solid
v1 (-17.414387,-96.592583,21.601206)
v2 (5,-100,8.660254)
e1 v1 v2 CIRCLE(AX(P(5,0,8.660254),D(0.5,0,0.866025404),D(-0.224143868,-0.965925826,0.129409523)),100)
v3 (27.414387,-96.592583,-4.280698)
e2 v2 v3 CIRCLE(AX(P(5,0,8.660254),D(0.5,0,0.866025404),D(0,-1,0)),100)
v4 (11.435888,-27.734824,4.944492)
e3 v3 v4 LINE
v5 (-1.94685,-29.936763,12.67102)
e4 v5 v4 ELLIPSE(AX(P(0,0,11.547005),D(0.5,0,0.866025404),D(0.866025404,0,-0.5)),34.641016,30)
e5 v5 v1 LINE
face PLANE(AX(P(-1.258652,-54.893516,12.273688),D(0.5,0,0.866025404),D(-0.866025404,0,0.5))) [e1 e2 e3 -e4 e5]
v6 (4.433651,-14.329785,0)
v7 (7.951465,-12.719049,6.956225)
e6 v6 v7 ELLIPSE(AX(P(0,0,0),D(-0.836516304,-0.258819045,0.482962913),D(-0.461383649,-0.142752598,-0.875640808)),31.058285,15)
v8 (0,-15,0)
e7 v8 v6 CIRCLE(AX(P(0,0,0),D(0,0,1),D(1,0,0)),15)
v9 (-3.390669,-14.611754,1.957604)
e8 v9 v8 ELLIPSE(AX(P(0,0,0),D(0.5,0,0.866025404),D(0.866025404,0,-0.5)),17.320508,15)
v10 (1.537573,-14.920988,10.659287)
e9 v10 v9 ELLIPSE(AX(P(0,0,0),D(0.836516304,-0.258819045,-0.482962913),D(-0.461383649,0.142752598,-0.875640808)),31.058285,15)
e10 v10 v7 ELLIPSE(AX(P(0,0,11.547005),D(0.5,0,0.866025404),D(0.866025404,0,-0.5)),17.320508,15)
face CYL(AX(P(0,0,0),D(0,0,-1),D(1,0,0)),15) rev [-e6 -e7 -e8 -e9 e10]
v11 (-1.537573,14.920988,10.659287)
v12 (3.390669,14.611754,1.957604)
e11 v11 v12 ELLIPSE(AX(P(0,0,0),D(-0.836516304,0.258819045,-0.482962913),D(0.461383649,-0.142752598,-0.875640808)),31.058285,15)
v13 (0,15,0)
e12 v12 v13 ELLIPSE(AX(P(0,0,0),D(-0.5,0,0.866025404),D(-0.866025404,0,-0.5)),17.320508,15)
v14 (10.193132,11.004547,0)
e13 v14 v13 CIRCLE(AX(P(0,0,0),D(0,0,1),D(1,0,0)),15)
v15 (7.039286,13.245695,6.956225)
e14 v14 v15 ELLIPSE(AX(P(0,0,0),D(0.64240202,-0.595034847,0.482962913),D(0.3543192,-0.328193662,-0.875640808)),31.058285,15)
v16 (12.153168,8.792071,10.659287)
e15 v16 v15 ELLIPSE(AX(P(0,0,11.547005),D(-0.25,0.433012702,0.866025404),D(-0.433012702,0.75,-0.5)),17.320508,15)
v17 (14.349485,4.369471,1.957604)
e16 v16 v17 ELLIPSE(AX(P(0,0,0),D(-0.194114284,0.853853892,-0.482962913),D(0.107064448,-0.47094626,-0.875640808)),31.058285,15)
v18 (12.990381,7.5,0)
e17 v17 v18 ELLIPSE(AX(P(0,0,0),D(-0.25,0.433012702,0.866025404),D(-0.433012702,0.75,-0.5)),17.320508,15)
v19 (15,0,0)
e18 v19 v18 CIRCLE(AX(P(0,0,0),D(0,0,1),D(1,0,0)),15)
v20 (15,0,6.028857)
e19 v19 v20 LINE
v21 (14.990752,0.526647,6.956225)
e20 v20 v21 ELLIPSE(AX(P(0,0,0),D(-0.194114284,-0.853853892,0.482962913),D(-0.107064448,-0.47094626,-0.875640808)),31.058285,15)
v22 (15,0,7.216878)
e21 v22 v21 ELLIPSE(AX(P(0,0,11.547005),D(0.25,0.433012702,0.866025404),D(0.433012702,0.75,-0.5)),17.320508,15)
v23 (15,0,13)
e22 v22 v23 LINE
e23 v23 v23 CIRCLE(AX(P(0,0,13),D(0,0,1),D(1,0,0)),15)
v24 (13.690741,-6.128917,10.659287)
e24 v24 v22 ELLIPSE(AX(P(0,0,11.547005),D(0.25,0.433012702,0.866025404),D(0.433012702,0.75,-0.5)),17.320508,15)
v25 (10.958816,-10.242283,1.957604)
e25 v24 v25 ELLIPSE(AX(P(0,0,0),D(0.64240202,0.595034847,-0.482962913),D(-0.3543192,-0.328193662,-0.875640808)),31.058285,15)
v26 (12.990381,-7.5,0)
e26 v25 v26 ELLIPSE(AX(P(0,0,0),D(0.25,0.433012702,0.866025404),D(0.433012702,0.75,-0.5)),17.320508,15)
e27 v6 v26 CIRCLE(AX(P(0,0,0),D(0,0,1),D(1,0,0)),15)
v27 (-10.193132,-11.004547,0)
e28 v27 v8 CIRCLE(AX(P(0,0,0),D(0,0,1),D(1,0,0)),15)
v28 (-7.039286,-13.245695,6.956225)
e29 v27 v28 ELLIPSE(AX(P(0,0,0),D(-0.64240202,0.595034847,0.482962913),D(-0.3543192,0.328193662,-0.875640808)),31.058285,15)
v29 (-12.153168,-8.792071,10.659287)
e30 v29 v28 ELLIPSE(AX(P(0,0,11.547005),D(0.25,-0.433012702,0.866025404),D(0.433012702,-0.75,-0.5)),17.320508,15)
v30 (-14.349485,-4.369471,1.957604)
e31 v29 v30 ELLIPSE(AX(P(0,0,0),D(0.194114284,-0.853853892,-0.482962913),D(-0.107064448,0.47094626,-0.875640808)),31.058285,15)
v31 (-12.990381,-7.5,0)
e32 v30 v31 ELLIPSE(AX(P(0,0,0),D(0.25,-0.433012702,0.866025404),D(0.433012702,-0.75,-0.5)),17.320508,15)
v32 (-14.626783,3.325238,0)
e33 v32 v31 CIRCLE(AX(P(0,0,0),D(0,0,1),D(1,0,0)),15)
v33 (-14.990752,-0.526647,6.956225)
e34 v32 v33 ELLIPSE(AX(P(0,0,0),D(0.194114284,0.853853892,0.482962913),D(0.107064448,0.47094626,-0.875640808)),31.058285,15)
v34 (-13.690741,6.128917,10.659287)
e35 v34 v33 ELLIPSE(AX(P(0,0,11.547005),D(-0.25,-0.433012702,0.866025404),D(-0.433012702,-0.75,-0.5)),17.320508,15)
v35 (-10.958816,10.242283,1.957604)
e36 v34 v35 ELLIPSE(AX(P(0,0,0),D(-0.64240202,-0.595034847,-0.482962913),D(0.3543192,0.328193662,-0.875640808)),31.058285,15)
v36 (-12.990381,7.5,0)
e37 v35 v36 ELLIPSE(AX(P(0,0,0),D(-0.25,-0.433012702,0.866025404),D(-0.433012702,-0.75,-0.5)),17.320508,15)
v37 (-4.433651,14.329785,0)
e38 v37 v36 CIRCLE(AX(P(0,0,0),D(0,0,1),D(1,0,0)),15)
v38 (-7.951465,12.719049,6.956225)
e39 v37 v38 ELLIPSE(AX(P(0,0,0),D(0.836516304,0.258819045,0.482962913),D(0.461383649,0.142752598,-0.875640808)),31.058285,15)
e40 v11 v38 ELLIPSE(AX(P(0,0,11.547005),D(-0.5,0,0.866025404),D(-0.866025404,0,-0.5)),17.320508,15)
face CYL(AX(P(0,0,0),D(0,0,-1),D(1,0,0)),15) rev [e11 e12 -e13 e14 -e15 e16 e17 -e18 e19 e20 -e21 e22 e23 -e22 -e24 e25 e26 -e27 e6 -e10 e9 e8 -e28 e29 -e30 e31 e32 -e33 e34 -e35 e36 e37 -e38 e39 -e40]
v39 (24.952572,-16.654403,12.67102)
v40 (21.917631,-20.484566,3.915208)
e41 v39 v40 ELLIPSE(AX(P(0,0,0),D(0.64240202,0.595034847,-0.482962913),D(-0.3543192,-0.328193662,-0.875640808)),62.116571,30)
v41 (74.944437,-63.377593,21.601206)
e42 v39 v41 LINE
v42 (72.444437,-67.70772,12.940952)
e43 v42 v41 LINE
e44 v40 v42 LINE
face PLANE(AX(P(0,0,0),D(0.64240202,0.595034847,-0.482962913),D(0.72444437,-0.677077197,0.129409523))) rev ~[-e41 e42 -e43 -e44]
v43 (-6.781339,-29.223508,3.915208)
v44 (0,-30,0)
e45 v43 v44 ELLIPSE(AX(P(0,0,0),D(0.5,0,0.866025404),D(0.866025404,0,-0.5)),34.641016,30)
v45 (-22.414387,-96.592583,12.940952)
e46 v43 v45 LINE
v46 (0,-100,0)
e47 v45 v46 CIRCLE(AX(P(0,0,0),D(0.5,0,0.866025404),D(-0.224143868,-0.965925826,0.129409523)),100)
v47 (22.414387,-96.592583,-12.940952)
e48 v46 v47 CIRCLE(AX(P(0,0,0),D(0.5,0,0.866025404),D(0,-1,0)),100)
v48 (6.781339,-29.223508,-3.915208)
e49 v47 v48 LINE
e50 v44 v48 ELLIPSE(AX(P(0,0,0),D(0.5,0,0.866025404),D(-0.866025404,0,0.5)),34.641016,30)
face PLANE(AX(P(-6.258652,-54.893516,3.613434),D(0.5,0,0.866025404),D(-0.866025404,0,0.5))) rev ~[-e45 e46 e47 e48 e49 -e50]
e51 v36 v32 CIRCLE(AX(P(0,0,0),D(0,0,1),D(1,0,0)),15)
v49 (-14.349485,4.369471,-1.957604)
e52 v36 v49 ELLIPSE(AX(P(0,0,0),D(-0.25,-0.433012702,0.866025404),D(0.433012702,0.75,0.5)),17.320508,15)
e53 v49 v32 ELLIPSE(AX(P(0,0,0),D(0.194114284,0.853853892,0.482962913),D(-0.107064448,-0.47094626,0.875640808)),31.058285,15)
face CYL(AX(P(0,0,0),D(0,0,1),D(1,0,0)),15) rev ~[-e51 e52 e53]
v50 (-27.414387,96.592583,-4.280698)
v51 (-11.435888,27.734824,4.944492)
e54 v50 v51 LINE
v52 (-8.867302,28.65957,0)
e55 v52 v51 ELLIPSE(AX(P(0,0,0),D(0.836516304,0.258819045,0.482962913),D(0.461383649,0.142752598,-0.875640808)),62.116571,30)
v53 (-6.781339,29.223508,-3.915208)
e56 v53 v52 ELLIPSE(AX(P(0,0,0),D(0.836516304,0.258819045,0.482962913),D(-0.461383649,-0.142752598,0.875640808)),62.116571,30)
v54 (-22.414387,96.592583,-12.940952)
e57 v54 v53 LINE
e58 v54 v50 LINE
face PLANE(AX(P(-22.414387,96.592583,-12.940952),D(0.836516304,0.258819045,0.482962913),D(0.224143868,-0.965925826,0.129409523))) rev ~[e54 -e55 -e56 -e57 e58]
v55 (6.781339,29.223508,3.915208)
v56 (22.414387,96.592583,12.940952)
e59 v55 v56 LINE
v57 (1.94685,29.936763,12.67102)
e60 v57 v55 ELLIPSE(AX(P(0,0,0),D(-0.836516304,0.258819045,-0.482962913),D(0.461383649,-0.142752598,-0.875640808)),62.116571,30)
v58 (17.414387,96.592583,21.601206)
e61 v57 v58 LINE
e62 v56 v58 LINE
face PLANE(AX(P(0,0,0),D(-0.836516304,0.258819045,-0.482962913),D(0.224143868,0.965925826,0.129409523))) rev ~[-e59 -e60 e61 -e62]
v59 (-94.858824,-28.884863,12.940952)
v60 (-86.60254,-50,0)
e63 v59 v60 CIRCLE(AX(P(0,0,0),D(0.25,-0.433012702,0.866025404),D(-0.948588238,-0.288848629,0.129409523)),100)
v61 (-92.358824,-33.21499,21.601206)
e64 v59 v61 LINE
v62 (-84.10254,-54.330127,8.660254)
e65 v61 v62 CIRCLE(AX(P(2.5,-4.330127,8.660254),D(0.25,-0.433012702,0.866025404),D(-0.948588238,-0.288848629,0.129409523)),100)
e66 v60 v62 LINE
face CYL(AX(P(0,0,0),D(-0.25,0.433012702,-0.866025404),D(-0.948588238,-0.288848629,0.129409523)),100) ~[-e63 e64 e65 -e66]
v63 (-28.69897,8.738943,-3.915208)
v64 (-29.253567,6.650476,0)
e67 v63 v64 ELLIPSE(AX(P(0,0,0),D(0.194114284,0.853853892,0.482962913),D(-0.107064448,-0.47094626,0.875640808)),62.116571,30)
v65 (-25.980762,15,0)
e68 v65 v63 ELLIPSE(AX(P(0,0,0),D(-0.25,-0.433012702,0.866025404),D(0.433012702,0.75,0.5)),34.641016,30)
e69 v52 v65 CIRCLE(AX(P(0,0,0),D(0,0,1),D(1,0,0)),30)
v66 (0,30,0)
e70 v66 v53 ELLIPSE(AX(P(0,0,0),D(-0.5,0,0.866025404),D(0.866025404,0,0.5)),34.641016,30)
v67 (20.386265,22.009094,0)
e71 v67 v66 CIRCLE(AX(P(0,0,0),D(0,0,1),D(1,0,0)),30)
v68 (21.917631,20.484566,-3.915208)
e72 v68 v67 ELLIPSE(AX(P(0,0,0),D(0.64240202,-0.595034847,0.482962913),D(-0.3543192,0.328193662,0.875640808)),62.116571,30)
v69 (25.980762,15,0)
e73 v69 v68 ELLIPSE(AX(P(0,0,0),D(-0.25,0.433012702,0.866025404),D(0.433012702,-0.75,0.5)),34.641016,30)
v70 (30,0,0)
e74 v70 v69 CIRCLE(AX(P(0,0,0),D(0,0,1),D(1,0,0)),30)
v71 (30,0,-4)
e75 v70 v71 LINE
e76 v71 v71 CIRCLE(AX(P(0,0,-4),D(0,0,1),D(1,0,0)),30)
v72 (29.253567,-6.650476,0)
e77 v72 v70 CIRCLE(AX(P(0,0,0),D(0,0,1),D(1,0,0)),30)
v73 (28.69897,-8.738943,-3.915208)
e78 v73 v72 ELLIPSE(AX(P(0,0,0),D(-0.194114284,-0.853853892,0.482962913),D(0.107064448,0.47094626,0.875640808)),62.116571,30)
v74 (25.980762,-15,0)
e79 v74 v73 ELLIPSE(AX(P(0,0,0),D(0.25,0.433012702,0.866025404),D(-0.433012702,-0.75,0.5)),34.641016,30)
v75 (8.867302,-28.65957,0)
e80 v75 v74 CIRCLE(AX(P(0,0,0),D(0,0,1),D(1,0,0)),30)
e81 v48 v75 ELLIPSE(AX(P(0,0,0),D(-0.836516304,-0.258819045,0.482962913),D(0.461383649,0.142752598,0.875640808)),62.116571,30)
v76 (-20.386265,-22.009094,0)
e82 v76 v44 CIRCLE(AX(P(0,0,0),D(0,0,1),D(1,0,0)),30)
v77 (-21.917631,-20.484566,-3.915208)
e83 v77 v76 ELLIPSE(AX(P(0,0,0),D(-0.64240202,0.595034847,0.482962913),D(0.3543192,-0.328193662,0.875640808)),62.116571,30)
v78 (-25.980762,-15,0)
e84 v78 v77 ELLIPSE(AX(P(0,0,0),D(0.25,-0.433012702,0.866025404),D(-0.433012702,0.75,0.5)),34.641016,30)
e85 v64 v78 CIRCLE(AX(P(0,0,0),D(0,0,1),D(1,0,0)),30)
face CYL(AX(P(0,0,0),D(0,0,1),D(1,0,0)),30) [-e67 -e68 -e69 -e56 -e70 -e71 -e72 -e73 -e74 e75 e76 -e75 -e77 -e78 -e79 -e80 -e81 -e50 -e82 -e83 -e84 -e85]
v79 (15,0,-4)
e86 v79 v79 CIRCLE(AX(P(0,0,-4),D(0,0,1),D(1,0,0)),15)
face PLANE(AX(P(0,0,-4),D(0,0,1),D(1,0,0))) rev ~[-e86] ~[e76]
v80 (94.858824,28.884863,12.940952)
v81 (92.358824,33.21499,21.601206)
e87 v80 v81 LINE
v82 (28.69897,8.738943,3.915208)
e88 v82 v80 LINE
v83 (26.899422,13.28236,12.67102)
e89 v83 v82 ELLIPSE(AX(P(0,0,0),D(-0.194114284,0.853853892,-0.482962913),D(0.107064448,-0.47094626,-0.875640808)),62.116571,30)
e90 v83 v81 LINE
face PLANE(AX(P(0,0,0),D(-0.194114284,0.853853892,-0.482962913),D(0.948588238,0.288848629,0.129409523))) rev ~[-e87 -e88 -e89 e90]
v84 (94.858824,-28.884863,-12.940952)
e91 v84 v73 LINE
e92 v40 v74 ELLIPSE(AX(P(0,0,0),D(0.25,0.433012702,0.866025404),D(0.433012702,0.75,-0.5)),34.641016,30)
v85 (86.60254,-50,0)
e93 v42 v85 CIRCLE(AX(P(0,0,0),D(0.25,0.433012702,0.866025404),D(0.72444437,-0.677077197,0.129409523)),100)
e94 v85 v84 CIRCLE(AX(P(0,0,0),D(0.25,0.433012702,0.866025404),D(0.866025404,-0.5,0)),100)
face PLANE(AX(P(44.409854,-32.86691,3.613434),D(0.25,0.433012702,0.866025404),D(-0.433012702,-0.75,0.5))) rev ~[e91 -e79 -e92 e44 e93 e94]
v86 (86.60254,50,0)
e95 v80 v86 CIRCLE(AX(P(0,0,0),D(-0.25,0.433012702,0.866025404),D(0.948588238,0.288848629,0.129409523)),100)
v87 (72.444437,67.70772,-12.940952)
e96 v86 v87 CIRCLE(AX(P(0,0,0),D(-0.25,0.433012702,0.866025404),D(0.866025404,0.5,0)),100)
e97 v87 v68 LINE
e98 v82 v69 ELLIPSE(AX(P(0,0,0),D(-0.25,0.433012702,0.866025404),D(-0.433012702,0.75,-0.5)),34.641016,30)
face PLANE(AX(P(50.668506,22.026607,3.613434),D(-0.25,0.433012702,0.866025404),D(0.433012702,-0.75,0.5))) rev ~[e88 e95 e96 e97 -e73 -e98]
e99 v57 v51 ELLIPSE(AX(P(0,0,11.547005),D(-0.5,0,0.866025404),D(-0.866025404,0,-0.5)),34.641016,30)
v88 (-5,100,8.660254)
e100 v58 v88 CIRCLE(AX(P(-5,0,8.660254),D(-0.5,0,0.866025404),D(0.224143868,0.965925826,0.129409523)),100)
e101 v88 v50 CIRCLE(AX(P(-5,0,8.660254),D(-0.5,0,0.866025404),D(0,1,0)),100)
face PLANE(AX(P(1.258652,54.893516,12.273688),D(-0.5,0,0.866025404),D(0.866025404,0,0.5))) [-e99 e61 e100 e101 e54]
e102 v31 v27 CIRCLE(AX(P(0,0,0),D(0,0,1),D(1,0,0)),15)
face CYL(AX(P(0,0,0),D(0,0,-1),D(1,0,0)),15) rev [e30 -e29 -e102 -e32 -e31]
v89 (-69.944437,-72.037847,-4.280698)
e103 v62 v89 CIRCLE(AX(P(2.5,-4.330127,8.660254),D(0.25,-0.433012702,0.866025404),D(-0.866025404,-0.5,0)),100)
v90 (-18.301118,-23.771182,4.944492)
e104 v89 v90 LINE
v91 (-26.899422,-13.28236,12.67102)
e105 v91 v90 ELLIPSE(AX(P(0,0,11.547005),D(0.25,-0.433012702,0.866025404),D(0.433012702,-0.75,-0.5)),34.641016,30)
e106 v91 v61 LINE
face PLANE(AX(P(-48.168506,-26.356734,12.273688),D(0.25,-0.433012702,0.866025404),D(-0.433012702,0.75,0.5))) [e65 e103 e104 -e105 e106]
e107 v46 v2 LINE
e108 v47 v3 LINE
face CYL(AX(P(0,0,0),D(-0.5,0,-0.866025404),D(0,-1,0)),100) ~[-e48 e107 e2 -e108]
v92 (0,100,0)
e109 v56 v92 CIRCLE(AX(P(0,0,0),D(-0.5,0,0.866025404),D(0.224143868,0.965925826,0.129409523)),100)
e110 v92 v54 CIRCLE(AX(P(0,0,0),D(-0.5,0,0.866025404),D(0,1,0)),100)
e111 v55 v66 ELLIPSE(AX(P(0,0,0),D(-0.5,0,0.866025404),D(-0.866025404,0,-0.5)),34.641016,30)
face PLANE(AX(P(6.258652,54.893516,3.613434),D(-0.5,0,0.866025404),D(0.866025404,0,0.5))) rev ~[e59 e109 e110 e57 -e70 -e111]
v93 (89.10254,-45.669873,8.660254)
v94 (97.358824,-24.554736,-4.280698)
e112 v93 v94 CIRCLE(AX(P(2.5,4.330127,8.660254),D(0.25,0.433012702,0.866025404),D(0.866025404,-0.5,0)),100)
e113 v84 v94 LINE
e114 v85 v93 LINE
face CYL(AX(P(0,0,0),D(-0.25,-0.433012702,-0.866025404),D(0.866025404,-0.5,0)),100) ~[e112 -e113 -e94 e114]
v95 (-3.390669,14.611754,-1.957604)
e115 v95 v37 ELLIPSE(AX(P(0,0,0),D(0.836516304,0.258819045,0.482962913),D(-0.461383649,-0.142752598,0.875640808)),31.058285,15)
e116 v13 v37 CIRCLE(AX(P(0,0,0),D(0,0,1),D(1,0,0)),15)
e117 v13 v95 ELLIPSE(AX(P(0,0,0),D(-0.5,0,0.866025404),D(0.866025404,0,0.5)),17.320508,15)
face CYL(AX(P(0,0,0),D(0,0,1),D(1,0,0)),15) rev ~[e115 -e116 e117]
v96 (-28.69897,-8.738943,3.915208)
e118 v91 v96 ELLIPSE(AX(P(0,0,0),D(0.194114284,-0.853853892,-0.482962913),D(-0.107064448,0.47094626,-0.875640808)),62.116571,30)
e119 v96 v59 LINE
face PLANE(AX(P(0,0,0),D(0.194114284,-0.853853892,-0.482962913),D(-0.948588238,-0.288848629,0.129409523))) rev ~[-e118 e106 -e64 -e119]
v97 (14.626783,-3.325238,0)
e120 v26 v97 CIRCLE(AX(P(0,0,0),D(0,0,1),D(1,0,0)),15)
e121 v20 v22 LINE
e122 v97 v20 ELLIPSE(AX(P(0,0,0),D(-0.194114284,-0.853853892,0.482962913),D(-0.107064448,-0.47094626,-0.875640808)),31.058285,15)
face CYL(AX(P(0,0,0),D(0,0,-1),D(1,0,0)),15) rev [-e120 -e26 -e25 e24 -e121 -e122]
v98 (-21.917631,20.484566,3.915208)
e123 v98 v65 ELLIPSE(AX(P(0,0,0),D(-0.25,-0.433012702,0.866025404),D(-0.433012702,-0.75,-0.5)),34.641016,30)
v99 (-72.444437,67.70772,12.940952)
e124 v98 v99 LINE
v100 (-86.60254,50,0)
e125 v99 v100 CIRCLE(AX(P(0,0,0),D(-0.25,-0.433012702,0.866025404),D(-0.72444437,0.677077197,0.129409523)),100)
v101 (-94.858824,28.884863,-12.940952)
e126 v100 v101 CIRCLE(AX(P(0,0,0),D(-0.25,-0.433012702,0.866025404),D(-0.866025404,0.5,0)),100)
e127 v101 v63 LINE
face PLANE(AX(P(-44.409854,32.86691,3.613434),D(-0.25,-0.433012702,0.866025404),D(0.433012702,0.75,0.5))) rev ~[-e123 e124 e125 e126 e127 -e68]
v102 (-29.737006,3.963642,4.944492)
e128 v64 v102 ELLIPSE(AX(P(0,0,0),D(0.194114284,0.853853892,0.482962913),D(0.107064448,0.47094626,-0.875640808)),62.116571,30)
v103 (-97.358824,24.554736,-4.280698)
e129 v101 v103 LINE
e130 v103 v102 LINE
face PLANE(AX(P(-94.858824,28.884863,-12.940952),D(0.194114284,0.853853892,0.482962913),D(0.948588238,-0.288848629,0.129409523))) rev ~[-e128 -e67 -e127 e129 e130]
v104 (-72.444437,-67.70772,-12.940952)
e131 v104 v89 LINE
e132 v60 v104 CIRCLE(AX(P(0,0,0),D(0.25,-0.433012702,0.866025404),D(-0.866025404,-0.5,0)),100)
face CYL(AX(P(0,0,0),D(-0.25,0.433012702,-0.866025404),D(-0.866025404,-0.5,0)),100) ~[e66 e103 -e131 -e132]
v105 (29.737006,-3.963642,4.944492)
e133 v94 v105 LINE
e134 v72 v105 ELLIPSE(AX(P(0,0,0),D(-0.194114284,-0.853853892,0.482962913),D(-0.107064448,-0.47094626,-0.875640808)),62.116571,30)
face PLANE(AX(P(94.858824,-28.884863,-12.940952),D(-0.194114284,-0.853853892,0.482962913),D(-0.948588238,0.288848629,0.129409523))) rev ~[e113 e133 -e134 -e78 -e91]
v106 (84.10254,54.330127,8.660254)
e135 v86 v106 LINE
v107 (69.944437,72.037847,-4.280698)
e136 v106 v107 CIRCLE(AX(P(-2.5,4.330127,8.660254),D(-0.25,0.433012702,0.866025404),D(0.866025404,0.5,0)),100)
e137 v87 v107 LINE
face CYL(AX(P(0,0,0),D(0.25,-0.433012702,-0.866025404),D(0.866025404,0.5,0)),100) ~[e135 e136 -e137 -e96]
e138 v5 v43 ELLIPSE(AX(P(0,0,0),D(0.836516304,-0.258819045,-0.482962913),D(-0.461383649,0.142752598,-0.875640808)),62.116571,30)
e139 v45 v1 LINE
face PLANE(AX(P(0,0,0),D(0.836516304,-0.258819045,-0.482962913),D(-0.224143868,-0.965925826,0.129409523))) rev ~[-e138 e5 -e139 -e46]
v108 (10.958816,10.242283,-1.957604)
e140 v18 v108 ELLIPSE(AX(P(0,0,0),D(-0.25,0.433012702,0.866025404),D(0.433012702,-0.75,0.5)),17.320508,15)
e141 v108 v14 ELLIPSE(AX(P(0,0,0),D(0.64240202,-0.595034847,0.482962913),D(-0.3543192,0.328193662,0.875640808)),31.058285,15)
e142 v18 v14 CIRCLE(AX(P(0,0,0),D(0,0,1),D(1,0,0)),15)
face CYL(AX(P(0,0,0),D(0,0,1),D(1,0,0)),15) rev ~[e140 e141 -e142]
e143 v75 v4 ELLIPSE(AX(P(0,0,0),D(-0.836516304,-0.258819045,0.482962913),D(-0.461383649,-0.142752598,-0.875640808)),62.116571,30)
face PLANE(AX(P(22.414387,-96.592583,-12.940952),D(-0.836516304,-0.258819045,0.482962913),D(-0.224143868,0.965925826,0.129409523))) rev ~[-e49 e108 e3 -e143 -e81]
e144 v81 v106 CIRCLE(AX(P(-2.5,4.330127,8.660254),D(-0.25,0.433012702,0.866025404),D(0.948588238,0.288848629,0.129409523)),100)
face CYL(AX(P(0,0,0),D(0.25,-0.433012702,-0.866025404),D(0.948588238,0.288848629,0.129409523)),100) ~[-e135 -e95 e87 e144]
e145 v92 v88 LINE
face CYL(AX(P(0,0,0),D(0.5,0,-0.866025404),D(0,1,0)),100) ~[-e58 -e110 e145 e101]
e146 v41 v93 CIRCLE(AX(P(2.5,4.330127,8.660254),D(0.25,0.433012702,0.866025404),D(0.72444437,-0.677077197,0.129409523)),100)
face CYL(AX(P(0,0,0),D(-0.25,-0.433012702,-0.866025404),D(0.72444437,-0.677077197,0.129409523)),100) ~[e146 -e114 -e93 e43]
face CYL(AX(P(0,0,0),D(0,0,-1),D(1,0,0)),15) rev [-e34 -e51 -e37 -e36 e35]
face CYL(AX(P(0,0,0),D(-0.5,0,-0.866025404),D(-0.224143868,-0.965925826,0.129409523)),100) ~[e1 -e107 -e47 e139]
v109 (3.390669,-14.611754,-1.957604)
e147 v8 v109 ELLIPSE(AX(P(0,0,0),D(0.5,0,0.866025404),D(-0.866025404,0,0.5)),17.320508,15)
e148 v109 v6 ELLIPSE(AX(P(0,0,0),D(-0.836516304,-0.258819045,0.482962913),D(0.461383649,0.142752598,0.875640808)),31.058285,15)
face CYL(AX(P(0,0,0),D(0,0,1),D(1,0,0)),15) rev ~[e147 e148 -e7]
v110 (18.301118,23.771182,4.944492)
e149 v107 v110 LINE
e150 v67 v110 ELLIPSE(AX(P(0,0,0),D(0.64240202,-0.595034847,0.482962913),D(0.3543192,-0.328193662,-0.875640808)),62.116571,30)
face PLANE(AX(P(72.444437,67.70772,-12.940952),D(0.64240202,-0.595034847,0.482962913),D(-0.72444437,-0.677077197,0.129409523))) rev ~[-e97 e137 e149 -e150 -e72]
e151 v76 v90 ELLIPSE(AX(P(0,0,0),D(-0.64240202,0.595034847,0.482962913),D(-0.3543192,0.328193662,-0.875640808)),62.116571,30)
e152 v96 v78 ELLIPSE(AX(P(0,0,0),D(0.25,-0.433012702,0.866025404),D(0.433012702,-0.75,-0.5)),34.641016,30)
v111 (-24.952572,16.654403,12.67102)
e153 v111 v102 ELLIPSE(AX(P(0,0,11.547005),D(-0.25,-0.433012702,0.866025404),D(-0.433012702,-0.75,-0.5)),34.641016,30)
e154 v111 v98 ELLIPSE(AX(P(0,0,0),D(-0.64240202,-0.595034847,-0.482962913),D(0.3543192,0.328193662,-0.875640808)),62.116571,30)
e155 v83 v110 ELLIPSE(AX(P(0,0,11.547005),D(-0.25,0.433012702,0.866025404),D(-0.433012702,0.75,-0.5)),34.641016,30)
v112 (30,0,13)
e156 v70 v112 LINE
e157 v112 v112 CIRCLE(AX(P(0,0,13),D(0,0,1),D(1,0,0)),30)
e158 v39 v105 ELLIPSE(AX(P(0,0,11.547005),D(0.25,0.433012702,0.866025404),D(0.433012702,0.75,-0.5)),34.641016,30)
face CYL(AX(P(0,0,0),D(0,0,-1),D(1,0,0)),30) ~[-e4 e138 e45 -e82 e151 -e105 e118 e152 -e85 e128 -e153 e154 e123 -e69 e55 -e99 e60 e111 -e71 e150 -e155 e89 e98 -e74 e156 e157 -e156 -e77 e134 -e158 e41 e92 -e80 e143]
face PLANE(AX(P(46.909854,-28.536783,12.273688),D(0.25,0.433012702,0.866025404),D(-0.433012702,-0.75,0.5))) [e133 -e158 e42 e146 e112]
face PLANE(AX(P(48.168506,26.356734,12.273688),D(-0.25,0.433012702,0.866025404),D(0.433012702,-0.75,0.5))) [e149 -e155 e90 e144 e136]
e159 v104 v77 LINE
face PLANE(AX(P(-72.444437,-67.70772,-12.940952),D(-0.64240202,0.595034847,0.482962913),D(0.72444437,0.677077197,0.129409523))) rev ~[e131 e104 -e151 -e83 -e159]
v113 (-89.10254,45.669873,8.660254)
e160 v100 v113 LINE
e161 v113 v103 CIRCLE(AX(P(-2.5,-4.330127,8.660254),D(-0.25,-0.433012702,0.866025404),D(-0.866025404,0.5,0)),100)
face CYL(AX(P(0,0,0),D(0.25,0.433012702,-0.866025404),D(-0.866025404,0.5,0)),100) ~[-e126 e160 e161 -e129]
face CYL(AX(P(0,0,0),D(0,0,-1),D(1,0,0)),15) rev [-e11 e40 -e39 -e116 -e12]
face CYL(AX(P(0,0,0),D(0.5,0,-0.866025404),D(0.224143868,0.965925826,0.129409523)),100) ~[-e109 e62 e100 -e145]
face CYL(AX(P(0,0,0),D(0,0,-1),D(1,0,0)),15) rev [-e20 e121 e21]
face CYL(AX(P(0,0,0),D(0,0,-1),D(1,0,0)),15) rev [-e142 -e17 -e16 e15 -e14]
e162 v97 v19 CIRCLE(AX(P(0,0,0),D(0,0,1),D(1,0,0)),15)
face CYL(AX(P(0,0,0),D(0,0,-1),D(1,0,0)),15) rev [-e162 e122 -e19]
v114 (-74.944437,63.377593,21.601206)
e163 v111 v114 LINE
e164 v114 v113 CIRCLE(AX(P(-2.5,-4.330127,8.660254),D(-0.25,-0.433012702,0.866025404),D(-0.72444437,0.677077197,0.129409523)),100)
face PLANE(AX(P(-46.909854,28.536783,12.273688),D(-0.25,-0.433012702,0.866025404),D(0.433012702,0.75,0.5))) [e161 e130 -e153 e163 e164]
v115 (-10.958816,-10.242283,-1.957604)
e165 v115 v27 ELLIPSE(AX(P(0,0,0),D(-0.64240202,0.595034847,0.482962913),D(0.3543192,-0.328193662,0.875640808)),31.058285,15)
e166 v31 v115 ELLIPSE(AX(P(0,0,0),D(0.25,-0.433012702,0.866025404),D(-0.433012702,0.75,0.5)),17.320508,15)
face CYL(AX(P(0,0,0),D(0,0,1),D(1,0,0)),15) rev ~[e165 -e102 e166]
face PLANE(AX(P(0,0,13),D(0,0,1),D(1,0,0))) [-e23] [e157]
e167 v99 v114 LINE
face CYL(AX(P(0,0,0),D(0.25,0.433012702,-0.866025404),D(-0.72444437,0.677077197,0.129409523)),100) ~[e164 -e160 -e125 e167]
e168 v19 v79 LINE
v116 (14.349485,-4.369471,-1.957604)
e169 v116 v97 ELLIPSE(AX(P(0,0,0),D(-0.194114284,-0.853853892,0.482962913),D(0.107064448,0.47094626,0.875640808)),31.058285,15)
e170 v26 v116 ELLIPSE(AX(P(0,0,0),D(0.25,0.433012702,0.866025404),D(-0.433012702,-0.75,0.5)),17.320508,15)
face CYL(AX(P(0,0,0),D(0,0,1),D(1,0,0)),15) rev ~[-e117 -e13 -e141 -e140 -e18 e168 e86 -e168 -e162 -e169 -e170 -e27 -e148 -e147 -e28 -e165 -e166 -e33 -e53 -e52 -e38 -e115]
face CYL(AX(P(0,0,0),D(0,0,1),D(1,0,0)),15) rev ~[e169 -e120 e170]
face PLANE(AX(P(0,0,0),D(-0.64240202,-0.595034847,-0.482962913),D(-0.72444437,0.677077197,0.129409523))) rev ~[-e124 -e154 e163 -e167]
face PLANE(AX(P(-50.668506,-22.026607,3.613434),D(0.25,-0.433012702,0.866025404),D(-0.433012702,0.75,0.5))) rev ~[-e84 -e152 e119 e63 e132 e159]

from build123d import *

# Parameters (mm, degrees)
F1_DEPTH      = 10
F3_ANGLE      = 30
F5_COUNT      = 6
F6_R          = 30
F6_R_2        = 15
F7_DEPTH      = 13
F7_DEPTH_BACK = 4
F8_R          = 15
F9_DEPTH      = 25
F9_DEPTH_BACK = 25


with BuildPart() as f1:
    # F0 (on Top) → F1 (new body)
    with BuildSketch(Plane.XY):
        with BuildLine():
            Line((0, 0), (25.8819045103, 96.5925826289))
            ThreePointArc((25.8819045103, 96.5925826289), (13.052619222, 99.1444861374), (0, 100))
            Line((0, 100), (0, 0))
        make_face()
        with BuildLine():
            Line((0, 0), (0, 100))
            ThreePointArc((0, 100), (-13.052619222, 99.1444861374), (-25.8819045103, 96.5925826289))
            Line((-25.8819045103, 96.5925826289), (0, 0))
        make_face()
    extrude(amount=F1_DEPTH)


with BuildPart() as f1_1:
    # F3: moved
    add(f1.part.rotate(Axis((0, 41.2369845435, 0), (0, -1, 0)), F3_ANGLE))

    # F5: F1 ×6 about axis
    f5_axis = Axis((0, 0, 3.0173412524), (0, 0, -1))


with BuildPart() as f1_2:
    add(f1_1.part)
    for i in range(1, F5_COUNT):
        add(f1_1.part.rotate(f5_axis, i * 360 / F5_COUNT))

    # F6 (on Top) → F7 (join, two sides)
    with BuildSketch(Plane.XY) as f7_sk:
        Circle(F6_R)
        Circle(F6_R_2, mode=Mode.SUBTRACT)
    extrude(amount=F7_DEPTH)
    extrude(f7_sk.sketch, amount=-F7_DEPTH_BACK)

    # F8 (on Top) → F9 (cut, two sides)
    with BuildSketch(Plane.XY) as f9_sk:
        Circle(F8_R)
    extrude(amount=-F9_DEPTH, mode=Mode.SUBTRACT)
    extrude(f9_sk.sketch, amount=F9_DEPTH_BACK, mode=Mode.SUBTRACT)


solid = f1_2.part
